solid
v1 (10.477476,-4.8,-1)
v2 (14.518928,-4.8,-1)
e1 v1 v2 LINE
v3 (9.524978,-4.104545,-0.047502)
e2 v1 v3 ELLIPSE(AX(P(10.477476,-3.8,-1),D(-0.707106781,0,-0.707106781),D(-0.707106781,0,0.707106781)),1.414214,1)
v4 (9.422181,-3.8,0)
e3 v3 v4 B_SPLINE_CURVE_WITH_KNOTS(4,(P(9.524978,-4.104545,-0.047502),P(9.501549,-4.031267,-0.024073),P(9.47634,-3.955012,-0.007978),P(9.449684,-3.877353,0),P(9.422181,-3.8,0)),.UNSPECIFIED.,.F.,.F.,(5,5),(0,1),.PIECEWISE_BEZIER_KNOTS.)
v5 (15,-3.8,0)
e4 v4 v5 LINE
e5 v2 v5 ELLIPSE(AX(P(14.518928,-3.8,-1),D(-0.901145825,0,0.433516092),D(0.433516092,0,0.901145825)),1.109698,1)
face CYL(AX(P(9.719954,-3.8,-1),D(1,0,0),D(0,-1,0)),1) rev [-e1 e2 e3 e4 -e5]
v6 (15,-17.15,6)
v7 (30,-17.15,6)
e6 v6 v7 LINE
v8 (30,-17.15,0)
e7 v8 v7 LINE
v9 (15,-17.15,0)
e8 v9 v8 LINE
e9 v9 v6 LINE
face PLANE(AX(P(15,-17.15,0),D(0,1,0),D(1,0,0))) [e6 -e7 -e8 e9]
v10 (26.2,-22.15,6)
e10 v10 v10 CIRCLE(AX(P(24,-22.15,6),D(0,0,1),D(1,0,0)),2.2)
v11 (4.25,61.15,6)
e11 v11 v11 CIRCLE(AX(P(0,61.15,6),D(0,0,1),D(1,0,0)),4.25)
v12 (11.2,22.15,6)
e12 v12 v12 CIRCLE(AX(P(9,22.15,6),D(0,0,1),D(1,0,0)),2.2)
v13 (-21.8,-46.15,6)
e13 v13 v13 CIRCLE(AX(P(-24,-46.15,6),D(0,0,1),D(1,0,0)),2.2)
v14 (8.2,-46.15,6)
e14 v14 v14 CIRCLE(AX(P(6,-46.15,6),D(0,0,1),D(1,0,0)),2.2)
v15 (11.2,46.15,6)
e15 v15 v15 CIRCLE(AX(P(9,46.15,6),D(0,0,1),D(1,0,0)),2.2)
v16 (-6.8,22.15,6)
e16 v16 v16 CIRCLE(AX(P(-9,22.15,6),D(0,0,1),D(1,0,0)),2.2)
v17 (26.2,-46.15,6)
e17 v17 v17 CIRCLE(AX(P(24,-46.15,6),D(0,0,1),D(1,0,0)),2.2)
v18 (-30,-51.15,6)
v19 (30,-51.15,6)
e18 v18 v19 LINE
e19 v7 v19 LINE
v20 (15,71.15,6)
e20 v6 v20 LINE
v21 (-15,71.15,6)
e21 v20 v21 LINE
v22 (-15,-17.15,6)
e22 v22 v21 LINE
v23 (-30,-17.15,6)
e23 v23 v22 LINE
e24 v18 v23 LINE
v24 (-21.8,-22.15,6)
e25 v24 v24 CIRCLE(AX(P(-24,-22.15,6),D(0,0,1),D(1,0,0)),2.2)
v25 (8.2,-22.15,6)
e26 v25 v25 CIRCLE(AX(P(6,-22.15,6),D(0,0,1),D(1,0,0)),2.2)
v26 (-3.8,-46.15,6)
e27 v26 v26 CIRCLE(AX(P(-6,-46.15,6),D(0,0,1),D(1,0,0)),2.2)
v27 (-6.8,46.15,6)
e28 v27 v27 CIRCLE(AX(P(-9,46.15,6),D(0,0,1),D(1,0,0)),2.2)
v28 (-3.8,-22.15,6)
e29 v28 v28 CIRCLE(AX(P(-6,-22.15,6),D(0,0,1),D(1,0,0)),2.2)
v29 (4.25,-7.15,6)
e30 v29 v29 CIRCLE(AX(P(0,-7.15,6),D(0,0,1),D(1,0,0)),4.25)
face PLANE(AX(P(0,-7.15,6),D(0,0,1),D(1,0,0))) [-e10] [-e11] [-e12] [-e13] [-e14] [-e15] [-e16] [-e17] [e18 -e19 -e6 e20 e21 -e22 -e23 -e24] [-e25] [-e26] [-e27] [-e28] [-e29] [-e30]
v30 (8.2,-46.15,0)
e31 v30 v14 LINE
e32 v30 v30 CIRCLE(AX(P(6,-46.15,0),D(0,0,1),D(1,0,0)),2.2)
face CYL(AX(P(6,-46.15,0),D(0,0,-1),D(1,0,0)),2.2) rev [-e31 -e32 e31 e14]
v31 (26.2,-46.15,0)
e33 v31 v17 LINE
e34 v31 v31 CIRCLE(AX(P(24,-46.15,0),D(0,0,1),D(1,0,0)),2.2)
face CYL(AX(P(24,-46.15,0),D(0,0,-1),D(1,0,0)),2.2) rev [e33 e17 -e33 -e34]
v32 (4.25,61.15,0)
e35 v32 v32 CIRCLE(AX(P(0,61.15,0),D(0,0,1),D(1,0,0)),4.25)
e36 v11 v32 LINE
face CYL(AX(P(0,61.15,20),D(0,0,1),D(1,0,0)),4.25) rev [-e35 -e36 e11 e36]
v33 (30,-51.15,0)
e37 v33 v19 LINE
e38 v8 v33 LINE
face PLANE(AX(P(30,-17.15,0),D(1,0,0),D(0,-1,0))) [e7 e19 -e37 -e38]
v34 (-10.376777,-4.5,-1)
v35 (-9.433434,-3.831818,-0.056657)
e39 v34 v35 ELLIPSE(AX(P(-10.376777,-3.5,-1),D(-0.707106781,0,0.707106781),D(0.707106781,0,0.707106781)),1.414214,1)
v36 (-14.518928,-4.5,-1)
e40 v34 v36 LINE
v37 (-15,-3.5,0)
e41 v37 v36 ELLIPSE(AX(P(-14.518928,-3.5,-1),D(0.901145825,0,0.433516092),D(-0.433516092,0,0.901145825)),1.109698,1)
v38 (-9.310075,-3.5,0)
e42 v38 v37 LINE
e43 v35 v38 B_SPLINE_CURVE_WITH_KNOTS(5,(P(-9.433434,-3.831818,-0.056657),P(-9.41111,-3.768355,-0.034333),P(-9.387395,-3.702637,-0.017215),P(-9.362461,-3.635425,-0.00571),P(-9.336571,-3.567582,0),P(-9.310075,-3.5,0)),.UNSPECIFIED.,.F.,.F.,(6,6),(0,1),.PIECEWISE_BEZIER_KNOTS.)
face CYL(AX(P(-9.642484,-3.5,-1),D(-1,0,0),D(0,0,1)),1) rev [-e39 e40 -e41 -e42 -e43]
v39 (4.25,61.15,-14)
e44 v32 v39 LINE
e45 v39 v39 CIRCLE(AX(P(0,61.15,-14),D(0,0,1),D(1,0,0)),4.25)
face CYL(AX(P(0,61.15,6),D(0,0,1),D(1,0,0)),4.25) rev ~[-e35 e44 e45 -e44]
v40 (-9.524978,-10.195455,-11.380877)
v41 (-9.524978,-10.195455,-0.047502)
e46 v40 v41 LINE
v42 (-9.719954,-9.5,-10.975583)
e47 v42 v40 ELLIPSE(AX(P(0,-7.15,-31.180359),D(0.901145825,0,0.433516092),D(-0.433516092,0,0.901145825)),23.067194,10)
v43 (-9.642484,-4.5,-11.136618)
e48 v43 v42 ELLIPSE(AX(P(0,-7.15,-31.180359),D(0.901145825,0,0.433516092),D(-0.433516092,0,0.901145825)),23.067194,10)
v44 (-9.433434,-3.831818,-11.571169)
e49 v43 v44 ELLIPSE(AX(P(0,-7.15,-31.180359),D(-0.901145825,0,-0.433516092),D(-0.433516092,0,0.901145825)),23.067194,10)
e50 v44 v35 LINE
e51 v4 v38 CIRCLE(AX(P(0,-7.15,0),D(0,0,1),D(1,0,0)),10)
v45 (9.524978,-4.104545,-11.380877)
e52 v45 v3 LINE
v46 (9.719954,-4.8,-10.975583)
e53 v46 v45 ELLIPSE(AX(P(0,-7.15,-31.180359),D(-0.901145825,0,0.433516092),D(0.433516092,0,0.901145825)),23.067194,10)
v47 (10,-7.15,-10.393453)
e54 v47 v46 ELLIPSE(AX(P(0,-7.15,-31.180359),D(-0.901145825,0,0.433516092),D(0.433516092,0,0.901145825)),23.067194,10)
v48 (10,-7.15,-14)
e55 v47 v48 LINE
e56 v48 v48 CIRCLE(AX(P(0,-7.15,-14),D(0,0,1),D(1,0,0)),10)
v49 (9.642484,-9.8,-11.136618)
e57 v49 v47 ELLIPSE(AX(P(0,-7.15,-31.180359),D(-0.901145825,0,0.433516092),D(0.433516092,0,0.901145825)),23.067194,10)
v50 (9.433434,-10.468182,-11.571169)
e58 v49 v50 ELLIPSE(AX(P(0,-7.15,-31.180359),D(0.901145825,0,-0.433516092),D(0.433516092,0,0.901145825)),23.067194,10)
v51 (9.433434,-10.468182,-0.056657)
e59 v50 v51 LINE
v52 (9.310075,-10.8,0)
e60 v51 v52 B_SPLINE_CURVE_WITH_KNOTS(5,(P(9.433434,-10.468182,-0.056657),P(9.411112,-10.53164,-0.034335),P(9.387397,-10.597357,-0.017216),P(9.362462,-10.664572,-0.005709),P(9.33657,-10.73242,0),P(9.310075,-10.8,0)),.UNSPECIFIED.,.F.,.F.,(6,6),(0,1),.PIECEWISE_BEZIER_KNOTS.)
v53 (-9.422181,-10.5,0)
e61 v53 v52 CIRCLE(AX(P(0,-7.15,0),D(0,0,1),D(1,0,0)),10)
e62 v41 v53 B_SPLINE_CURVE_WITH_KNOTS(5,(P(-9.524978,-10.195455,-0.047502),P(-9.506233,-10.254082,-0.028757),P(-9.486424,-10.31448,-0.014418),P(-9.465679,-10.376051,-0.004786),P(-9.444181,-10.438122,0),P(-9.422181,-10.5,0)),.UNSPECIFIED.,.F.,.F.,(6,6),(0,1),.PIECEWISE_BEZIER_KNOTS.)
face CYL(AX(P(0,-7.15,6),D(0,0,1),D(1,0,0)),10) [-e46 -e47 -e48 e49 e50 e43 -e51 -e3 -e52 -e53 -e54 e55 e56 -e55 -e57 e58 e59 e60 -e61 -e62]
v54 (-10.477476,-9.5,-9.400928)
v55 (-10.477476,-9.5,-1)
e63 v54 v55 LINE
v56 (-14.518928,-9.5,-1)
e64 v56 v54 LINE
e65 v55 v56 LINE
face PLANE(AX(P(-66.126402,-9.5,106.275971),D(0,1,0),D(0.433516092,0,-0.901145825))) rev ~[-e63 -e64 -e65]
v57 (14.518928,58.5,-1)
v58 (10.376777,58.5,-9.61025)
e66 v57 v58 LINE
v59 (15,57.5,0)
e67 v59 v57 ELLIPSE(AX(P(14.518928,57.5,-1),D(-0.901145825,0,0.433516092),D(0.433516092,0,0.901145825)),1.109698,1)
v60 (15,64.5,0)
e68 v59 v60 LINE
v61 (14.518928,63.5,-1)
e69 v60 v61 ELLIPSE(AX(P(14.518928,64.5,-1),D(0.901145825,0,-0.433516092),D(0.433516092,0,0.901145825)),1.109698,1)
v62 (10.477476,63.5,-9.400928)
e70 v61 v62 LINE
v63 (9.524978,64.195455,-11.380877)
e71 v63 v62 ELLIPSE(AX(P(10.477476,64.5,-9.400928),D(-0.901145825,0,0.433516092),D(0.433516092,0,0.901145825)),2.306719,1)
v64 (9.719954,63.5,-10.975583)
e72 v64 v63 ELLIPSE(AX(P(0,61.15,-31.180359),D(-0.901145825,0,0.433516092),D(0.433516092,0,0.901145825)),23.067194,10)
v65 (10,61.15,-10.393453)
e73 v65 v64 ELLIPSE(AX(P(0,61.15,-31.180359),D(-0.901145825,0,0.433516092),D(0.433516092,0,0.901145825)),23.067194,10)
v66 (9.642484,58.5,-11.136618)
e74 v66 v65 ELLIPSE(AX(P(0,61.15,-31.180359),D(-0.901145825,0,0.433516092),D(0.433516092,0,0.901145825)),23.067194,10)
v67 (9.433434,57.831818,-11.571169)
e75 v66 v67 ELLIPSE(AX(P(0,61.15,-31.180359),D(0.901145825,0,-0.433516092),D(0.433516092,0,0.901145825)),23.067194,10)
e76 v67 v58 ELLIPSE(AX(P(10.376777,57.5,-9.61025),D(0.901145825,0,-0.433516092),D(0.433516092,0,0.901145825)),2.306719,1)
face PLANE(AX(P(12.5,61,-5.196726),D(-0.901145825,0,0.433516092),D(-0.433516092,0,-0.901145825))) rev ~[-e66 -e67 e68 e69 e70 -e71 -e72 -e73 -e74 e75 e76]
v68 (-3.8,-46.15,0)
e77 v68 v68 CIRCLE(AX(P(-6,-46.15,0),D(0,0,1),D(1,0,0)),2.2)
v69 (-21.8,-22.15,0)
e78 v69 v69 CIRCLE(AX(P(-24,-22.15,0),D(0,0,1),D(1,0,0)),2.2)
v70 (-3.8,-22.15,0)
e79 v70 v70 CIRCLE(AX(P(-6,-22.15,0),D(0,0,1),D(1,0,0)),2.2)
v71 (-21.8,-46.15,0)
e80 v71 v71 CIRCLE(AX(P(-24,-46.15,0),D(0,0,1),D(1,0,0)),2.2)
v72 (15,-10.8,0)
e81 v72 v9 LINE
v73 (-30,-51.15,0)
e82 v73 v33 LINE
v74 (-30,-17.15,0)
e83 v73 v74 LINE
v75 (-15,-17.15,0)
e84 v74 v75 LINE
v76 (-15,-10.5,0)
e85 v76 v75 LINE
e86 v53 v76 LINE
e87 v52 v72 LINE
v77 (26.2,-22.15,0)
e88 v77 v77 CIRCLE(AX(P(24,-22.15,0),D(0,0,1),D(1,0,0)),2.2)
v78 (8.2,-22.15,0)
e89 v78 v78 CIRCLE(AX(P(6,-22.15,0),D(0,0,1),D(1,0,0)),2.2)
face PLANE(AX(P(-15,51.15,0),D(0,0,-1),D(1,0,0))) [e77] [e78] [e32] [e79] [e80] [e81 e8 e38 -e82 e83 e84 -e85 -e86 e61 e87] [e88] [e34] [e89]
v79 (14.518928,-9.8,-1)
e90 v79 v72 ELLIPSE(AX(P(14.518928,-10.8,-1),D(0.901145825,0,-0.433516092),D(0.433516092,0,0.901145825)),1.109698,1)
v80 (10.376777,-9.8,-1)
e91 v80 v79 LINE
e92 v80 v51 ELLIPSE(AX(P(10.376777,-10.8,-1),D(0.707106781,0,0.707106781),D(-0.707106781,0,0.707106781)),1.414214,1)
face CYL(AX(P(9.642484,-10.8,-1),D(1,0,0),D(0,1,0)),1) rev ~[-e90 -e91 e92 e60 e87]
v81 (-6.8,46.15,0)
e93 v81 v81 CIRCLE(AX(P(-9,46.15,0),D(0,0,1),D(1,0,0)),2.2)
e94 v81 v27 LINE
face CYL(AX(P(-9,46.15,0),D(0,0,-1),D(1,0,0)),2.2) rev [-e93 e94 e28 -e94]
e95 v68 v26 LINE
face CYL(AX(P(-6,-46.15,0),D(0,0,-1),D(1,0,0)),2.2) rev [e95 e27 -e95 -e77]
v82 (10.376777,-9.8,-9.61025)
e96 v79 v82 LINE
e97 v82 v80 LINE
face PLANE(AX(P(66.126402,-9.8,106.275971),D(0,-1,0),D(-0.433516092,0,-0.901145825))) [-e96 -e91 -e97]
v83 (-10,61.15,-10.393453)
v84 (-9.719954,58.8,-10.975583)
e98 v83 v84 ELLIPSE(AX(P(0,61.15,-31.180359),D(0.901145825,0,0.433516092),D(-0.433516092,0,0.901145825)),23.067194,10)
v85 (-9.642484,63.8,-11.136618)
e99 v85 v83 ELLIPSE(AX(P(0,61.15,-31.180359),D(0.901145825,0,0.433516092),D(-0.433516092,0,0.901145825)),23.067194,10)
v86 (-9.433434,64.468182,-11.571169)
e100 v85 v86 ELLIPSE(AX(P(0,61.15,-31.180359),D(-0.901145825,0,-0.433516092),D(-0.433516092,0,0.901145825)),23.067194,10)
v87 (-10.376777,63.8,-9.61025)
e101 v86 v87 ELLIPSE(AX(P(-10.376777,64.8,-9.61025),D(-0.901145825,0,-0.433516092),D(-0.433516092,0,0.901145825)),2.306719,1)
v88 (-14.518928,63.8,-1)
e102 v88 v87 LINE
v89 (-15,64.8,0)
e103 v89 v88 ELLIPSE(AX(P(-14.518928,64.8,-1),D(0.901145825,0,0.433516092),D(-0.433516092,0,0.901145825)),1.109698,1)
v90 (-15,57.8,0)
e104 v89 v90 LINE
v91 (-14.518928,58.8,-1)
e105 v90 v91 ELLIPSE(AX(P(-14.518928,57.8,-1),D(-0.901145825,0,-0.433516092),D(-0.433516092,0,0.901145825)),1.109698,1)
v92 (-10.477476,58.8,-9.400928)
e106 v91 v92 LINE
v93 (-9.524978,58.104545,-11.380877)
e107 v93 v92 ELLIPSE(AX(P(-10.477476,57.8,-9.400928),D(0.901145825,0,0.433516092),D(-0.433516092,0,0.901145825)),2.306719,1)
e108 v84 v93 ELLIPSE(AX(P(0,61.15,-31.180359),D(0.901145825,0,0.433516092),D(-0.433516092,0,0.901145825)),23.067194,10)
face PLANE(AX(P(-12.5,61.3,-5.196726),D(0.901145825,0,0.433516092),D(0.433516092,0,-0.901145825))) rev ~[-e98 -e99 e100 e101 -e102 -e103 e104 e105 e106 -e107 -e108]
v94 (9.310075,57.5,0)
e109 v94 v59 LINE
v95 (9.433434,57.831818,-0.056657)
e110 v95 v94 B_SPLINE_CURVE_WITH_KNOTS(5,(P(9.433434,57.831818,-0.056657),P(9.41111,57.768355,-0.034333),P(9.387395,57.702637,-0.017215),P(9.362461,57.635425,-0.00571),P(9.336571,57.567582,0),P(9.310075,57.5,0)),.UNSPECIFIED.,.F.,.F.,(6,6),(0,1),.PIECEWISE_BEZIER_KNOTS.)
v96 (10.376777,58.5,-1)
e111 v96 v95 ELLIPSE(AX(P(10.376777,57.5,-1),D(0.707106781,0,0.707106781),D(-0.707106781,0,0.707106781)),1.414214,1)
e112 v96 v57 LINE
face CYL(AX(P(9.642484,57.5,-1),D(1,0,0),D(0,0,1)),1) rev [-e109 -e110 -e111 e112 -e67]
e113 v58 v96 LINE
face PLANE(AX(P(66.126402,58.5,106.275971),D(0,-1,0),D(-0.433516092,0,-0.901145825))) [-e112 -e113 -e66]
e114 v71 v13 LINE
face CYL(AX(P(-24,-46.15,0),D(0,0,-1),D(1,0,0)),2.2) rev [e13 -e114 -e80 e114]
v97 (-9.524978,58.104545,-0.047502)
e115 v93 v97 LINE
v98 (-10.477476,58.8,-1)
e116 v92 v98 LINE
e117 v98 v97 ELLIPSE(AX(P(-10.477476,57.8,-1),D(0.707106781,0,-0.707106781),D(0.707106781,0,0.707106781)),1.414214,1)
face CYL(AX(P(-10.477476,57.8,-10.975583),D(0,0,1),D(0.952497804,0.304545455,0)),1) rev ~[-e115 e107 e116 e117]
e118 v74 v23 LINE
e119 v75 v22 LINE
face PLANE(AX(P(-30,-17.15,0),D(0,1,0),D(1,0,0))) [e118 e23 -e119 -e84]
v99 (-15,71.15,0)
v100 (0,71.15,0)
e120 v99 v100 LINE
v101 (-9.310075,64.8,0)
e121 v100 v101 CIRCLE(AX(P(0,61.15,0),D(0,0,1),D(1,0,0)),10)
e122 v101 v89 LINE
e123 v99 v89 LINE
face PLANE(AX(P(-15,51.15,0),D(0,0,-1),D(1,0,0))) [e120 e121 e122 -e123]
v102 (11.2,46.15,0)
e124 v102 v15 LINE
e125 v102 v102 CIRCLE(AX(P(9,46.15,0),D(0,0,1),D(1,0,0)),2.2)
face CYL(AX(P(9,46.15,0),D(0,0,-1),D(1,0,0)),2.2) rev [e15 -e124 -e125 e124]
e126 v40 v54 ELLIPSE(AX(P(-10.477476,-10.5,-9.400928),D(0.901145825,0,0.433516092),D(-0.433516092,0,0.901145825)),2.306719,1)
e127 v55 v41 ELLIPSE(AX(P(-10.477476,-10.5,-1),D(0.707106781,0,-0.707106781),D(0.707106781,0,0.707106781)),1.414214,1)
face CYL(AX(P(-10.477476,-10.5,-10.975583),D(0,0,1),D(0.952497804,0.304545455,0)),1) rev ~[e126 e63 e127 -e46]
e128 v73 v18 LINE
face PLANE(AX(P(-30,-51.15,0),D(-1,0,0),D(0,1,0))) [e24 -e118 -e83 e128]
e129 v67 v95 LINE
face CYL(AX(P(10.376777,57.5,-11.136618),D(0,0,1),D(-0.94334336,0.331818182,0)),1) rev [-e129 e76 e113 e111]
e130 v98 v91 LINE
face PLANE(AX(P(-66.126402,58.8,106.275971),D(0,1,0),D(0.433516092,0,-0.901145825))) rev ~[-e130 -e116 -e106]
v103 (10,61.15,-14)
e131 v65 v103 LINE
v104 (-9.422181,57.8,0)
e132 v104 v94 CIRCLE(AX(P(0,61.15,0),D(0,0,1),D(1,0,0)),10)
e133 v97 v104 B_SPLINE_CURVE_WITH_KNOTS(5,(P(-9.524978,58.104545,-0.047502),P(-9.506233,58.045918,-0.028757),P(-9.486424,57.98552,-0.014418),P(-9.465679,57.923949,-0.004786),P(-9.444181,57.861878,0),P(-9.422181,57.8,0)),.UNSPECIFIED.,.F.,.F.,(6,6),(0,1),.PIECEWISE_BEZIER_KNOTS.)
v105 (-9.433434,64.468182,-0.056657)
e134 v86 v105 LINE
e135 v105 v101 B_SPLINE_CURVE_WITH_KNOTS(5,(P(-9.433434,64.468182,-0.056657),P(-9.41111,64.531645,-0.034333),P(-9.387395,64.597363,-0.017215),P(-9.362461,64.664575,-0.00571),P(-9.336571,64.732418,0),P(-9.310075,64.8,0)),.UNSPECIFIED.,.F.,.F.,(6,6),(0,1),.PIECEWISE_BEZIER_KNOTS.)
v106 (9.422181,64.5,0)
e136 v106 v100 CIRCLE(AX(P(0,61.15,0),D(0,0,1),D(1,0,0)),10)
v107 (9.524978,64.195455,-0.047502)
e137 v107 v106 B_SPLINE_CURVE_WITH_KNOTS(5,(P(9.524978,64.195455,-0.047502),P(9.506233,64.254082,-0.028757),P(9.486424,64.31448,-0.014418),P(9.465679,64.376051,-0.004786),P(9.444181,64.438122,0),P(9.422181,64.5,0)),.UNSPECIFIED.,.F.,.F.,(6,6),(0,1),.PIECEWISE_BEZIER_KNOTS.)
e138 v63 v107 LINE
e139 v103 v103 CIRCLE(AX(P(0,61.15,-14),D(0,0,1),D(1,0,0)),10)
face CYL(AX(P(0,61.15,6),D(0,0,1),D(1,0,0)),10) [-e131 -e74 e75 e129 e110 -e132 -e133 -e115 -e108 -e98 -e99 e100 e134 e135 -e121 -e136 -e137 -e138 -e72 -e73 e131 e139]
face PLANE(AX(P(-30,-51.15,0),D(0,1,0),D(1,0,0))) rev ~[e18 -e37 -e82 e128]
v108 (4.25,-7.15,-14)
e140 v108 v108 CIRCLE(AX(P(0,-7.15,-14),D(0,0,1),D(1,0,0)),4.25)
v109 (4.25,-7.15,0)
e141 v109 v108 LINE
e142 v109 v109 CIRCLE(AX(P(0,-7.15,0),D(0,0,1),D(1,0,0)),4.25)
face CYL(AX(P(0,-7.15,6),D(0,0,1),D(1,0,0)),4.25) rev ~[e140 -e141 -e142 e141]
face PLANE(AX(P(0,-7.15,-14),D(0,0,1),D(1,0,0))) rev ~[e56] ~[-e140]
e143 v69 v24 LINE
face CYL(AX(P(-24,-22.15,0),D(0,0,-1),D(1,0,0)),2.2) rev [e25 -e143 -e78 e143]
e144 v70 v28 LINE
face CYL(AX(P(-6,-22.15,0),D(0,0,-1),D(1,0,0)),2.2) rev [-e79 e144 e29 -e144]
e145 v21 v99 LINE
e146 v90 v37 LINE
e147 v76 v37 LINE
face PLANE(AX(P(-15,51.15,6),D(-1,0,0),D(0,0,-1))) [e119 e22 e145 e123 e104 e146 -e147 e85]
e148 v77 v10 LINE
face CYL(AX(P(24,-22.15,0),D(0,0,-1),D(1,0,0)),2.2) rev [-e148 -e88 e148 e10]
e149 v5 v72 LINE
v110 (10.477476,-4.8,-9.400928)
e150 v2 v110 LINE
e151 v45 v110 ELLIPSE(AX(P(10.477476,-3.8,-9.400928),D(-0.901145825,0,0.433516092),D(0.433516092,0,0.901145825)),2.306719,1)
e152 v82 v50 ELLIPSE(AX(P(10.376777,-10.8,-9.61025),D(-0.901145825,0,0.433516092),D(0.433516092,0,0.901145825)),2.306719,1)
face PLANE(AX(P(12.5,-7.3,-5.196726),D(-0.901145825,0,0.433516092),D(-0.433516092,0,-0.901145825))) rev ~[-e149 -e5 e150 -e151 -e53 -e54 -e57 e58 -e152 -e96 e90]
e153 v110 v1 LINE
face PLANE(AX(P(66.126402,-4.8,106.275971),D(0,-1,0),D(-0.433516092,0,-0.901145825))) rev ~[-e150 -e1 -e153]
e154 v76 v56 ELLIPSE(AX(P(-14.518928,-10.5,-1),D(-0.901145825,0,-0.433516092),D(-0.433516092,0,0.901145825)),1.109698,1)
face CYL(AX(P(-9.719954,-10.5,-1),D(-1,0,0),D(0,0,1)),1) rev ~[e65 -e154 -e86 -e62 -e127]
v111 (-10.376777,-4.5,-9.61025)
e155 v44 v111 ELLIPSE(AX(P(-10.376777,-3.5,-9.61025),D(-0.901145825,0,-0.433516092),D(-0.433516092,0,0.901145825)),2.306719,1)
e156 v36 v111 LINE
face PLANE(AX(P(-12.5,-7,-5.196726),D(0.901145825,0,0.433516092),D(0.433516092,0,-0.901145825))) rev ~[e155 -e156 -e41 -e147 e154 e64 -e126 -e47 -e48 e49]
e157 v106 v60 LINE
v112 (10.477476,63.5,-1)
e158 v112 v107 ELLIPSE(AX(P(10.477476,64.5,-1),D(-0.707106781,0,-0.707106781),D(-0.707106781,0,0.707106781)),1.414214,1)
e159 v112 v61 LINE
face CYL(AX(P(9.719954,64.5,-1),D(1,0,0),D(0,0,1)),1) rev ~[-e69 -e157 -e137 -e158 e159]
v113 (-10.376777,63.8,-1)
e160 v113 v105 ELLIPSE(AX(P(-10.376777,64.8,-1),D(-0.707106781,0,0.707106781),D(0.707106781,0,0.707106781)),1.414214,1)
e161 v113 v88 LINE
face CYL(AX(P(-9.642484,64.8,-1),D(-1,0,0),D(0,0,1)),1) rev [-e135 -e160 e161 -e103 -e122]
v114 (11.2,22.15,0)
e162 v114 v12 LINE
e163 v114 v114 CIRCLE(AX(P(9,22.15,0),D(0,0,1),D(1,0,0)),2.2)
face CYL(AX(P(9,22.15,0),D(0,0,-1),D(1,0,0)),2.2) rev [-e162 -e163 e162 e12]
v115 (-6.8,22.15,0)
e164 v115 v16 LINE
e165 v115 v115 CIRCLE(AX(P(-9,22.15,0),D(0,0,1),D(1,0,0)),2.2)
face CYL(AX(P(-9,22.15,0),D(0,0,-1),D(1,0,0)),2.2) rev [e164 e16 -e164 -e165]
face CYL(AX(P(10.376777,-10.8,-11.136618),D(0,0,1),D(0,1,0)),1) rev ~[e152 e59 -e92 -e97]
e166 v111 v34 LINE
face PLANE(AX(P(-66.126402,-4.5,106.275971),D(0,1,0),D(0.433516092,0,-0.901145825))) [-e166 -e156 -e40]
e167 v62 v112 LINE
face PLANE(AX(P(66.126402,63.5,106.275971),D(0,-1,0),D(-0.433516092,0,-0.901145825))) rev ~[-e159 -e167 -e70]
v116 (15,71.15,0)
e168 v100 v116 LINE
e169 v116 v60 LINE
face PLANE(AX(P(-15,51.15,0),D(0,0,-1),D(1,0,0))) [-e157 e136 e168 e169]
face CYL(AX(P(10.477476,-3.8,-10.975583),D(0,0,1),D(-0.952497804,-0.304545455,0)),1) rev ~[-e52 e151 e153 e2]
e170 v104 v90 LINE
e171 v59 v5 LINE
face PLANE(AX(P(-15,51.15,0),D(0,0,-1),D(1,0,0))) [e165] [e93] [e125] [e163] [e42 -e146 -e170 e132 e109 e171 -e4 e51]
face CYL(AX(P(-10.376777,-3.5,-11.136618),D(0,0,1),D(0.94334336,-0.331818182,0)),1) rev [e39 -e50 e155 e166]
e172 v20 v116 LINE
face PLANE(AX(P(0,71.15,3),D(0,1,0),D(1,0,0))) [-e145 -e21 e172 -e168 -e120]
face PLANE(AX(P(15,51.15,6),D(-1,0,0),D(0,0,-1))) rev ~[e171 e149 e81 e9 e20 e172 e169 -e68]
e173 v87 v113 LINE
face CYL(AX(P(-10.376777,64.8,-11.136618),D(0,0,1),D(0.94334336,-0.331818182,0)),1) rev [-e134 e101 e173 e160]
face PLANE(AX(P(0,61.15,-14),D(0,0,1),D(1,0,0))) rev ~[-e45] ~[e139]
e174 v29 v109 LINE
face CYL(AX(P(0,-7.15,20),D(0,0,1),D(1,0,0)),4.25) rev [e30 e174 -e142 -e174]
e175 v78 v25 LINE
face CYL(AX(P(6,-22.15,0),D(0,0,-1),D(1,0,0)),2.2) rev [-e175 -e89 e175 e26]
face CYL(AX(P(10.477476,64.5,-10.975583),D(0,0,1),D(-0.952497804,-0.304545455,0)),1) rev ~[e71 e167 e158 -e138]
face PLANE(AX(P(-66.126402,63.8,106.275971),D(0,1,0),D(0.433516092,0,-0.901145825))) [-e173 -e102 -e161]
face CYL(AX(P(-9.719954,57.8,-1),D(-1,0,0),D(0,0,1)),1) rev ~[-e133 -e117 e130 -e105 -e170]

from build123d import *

# Parameters (mm, degrees)
SKETCH1_R                 = 2.2
BOSS_EXTRUDE1_DEPTH       = 6
SKETCH4_W                 = 30
SKETCH4_H                 = 6
BOSS_EXTRUDE3_DEPTH       = 20
SKETCH5_R                 = 10
SKETCH5_R_2               = 4.25
BOSS_EXTRUDE4_DEPTH       = 20
CUT_EXTRUDE1_START        = -20
SKETCH7_R                 = 4.25
CUT_EXTRUDE1_DEPTH        = 20
RIB1_REACH                = 118.934
SKETCH8_WALL_W            = 247.402128672
SKETCH8_WALL_H            = 5
CIRPATTERN2_COUNT         = 2
CIRPATTERN2_ANGLE         = 180
LPATTERN3_COUNT           = 2
LPATTERN3_PITCH           = 68.3
LPATTERN3_COPY_1_REACH    = 118.934
LPATTERN3_COPY_1_SKETCH_W = 247.402128672
LPATTERN3_COPY_1_SKETCH_H = 5
FILLET4_R                 = 1
CUT_EXTRUDE2_START        = -20
SKETCH9_R                 = 4.25
CUT_EXTRUDE2_DEPTH        = 20


with BuildPart() as part:
    # Sketch1 → Boss-Extrude1 (new body)
    with BuildSketch(Plane.XY):
        Polygon((-15, 51.15), (15, 51.15), (15, -17.15), (30, -17.15), (30, -51.15), (15, -51.15), (-15, -51.15), (-30, -51.15), (-30, -17.15), (-15, -17.15), align=None)
        with Locations((9, 46.15)):
            Circle(SKETCH1_R, mode=Mode.SUBTRACT)
        with Locations((-9, 46.15)):
            Circle(SKETCH1_R, mode=Mode.SUBTRACT)
        with Locations((-9, 22.15)):
            Circle(SKETCH1_R, mode=Mode.SUBTRACT)
        with Locations((9, 22.15)):
            Circle(SKETCH1_R, mode=Mode.SUBTRACT)
        with Locations((-6, -22.15)):
            Circle(SKETCH1_R, mode=Mode.SUBTRACT)
        with Locations((-24, -22.15)):
            Circle(SKETCH1_R, mode=Mode.SUBTRACT)
        with Locations((-24, -46.15)):
            Circle(SKETCH1_R, mode=Mode.SUBTRACT)
        with Locations((-6, -46.15)):
            Circle(SKETCH1_R, mode=Mode.SUBTRACT)
        with Locations((6, -22.15)):
            Circle(SKETCH1_R, mode=Mode.SUBTRACT)
        with Locations((24, -22.15)):
            Circle(SKETCH1_R, mode=Mode.SUBTRACT)
        with Locations((6, -46.15)):
            Circle(SKETCH1_R, mode=Mode.SUBTRACT)
        with Locations((24, -46.15)):
            Circle(SKETCH1_R, mode=Mode.SUBTRACT)
    extrude(amount=BOSS_EXTRUDE1_DEPTH)

    # Sketch4 → Boss-Extrude3 (add)
    with BuildSketch(Plane(origin=(0, 51.15, 0), x_dir=(1, 0, 0), z_dir=(0, 1, 0))):
        with Locations((0, -3)):
            Rectangle(SKETCH4_W, SKETCH4_H)
    extrude(amount=BOSS_EXTRUDE3_DEPTH)

    # Sketch5 → Boss-Extrude4 (add)
    with BuildSketch(Plane.XY.offset(6)):
        with Locations((0, 61.15)):
            Circle(SKETCH5_R)
        with Locations((0, 61.15)):
            Circle(SKETCH5_R_2, mode=Mode.SUBTRACT)
    boss_extrude4 = extrude(amount=-BOSS_EXTRUDE4_DEPTH)

    # Sketch7 → Cut-Extrude1 (cut)
    with BuildSketch(Plane(origin=(0, 0, 0), x_dir=(-1, 0, 0), z_dir=(0, 0, -1)).offset(CUT_EXTRUDE1_START)):
        with Locations(Location((0, 61.15, 0), (0, 0, 180))):
            Circle(SKETCH7_R)
    extrude(amount=CUT_EXTRUDE1_DEPTH, mode=Mode.SUBTRACT)

    # Sketch8 wall → Rib1 (add, up to next)
    with BuildSketch(Plane(origin=(12.5, 61, -5.196726493), x_dir=(-0.433516092302, 0, -0.901145824889), z_dir=(-0.901145824889, 0, 0.433516092302)), mode=Mode.PRIVATE) as rib1_sk1:
        Rectangle(SKETCH8_WALL_W, SKETCH8_WALL_H)
    rib1_tool1 = extrude(rib1_sk1.sketch, amount=RIB1_REACH, mode=Mode.PRIVATE) - part.part
    rib1 = rib1_tool1.solids().sort_by_distance((12.5, 61, -5.196726493))[0]
    add(rib1)

    # CirPattern2: Rib1 ×2 about axis
    cirpattern2_axis = Axis((0, 61.15, -14), (0, 0, 1))
    for i in range(1, CIRPATTERN2_COUNT):
        add(rib1.rotate(cirpattern2_axis, i * CIRPATTERN2_ANGLE / (CIRPATTERN2_COUNT - 1)))

    # LPattern3: Boss-Extrude4, Rib1 ×2
    with Locations(*[(0, -i * LPATTERN3_PITCH, 0) for i in range(1, LPATTERN3_COUNT)]):
        add(boss_extrude4)
        add(rib1)

    # LPattern3 copy 1 sketch → LPattern3 copy 1 (add, up to next)
    with BuildSketch(Plane(origin=(-12.5, -7, -5.196726493), x_dir=(0.433516092302, 3.0272266927212608e-15, -0.901145824889), z_dir=(0.901145824889, 6.292667662352691e-15, 0.433516092302)), mode=Mode.PRIVATE) as lpattern3_copy_1_sk1:
        Rectangle(LPATTERN3_COPY_1_SKETCH_W, LPATTERN3_COPY_1_SKETCH_H)
    lpattern3_copy_1_tool1 = extrude(lpattern3_copy_1_sk1.sketch, amount=LPATTERN3_COPY_1_REACH, mode=Mode.PRIVATE) - part.part
    add(lpattern3_copy_1_tool1.solids().sort_by_distance((-12.5, -7, -5.196726493))[0])

    # Fillet4
    fillet4_edges = [part.edges().sort_by_distance(p)[0] for p in [
        (12.359976852, 63.5, 0),
        (9.719953704, 63.5, -5.487791295),
        (9.64248412, 58.5, -5.568308943),
        (12.32124206, 58.5, 0),
        (-9.64248412, 63.8, -5.568308943),
        (-12.32124206, 63.8, 0),
        (-12.359976852, 58.8, 0),
        (-9.719953704, 58.8, -5.487791295),
        (12.359976852, -4.8, 0),
        (9.64248412, -9.8, -5.568308943),
        (9.719953704, -4.8, -5.487791295),
        (12.32124206, -9.8, 0),
        (-9.64248412, -4.5, -5.568308943),
        (-12.359976852, -9.5, 0),
        (-9.719953704, -9.5, -5.487791295),
        (-12.32124206, -4.5, 0),
    ]]
    fillet(fillet4_edges, radius=FILLET4_R)

    # Sketch9 → Cut-Extrude2 (cut)
    with BuildSketch(Plane(origin=(0, 0, 0), x_dir=(-1, 0, 0), z_dir=(0, 0, -1)).offset(CUT_EXTRUDE2_START)):
        with Locations(Location((0, -7.15, 0), (0, 0, 180))):
            Circle(SKETCH9_R)
    extrude(amount=CUT_EXTRUDE2_DEPTH, mode=Mode.SUBTRACT)


solid = part.part
